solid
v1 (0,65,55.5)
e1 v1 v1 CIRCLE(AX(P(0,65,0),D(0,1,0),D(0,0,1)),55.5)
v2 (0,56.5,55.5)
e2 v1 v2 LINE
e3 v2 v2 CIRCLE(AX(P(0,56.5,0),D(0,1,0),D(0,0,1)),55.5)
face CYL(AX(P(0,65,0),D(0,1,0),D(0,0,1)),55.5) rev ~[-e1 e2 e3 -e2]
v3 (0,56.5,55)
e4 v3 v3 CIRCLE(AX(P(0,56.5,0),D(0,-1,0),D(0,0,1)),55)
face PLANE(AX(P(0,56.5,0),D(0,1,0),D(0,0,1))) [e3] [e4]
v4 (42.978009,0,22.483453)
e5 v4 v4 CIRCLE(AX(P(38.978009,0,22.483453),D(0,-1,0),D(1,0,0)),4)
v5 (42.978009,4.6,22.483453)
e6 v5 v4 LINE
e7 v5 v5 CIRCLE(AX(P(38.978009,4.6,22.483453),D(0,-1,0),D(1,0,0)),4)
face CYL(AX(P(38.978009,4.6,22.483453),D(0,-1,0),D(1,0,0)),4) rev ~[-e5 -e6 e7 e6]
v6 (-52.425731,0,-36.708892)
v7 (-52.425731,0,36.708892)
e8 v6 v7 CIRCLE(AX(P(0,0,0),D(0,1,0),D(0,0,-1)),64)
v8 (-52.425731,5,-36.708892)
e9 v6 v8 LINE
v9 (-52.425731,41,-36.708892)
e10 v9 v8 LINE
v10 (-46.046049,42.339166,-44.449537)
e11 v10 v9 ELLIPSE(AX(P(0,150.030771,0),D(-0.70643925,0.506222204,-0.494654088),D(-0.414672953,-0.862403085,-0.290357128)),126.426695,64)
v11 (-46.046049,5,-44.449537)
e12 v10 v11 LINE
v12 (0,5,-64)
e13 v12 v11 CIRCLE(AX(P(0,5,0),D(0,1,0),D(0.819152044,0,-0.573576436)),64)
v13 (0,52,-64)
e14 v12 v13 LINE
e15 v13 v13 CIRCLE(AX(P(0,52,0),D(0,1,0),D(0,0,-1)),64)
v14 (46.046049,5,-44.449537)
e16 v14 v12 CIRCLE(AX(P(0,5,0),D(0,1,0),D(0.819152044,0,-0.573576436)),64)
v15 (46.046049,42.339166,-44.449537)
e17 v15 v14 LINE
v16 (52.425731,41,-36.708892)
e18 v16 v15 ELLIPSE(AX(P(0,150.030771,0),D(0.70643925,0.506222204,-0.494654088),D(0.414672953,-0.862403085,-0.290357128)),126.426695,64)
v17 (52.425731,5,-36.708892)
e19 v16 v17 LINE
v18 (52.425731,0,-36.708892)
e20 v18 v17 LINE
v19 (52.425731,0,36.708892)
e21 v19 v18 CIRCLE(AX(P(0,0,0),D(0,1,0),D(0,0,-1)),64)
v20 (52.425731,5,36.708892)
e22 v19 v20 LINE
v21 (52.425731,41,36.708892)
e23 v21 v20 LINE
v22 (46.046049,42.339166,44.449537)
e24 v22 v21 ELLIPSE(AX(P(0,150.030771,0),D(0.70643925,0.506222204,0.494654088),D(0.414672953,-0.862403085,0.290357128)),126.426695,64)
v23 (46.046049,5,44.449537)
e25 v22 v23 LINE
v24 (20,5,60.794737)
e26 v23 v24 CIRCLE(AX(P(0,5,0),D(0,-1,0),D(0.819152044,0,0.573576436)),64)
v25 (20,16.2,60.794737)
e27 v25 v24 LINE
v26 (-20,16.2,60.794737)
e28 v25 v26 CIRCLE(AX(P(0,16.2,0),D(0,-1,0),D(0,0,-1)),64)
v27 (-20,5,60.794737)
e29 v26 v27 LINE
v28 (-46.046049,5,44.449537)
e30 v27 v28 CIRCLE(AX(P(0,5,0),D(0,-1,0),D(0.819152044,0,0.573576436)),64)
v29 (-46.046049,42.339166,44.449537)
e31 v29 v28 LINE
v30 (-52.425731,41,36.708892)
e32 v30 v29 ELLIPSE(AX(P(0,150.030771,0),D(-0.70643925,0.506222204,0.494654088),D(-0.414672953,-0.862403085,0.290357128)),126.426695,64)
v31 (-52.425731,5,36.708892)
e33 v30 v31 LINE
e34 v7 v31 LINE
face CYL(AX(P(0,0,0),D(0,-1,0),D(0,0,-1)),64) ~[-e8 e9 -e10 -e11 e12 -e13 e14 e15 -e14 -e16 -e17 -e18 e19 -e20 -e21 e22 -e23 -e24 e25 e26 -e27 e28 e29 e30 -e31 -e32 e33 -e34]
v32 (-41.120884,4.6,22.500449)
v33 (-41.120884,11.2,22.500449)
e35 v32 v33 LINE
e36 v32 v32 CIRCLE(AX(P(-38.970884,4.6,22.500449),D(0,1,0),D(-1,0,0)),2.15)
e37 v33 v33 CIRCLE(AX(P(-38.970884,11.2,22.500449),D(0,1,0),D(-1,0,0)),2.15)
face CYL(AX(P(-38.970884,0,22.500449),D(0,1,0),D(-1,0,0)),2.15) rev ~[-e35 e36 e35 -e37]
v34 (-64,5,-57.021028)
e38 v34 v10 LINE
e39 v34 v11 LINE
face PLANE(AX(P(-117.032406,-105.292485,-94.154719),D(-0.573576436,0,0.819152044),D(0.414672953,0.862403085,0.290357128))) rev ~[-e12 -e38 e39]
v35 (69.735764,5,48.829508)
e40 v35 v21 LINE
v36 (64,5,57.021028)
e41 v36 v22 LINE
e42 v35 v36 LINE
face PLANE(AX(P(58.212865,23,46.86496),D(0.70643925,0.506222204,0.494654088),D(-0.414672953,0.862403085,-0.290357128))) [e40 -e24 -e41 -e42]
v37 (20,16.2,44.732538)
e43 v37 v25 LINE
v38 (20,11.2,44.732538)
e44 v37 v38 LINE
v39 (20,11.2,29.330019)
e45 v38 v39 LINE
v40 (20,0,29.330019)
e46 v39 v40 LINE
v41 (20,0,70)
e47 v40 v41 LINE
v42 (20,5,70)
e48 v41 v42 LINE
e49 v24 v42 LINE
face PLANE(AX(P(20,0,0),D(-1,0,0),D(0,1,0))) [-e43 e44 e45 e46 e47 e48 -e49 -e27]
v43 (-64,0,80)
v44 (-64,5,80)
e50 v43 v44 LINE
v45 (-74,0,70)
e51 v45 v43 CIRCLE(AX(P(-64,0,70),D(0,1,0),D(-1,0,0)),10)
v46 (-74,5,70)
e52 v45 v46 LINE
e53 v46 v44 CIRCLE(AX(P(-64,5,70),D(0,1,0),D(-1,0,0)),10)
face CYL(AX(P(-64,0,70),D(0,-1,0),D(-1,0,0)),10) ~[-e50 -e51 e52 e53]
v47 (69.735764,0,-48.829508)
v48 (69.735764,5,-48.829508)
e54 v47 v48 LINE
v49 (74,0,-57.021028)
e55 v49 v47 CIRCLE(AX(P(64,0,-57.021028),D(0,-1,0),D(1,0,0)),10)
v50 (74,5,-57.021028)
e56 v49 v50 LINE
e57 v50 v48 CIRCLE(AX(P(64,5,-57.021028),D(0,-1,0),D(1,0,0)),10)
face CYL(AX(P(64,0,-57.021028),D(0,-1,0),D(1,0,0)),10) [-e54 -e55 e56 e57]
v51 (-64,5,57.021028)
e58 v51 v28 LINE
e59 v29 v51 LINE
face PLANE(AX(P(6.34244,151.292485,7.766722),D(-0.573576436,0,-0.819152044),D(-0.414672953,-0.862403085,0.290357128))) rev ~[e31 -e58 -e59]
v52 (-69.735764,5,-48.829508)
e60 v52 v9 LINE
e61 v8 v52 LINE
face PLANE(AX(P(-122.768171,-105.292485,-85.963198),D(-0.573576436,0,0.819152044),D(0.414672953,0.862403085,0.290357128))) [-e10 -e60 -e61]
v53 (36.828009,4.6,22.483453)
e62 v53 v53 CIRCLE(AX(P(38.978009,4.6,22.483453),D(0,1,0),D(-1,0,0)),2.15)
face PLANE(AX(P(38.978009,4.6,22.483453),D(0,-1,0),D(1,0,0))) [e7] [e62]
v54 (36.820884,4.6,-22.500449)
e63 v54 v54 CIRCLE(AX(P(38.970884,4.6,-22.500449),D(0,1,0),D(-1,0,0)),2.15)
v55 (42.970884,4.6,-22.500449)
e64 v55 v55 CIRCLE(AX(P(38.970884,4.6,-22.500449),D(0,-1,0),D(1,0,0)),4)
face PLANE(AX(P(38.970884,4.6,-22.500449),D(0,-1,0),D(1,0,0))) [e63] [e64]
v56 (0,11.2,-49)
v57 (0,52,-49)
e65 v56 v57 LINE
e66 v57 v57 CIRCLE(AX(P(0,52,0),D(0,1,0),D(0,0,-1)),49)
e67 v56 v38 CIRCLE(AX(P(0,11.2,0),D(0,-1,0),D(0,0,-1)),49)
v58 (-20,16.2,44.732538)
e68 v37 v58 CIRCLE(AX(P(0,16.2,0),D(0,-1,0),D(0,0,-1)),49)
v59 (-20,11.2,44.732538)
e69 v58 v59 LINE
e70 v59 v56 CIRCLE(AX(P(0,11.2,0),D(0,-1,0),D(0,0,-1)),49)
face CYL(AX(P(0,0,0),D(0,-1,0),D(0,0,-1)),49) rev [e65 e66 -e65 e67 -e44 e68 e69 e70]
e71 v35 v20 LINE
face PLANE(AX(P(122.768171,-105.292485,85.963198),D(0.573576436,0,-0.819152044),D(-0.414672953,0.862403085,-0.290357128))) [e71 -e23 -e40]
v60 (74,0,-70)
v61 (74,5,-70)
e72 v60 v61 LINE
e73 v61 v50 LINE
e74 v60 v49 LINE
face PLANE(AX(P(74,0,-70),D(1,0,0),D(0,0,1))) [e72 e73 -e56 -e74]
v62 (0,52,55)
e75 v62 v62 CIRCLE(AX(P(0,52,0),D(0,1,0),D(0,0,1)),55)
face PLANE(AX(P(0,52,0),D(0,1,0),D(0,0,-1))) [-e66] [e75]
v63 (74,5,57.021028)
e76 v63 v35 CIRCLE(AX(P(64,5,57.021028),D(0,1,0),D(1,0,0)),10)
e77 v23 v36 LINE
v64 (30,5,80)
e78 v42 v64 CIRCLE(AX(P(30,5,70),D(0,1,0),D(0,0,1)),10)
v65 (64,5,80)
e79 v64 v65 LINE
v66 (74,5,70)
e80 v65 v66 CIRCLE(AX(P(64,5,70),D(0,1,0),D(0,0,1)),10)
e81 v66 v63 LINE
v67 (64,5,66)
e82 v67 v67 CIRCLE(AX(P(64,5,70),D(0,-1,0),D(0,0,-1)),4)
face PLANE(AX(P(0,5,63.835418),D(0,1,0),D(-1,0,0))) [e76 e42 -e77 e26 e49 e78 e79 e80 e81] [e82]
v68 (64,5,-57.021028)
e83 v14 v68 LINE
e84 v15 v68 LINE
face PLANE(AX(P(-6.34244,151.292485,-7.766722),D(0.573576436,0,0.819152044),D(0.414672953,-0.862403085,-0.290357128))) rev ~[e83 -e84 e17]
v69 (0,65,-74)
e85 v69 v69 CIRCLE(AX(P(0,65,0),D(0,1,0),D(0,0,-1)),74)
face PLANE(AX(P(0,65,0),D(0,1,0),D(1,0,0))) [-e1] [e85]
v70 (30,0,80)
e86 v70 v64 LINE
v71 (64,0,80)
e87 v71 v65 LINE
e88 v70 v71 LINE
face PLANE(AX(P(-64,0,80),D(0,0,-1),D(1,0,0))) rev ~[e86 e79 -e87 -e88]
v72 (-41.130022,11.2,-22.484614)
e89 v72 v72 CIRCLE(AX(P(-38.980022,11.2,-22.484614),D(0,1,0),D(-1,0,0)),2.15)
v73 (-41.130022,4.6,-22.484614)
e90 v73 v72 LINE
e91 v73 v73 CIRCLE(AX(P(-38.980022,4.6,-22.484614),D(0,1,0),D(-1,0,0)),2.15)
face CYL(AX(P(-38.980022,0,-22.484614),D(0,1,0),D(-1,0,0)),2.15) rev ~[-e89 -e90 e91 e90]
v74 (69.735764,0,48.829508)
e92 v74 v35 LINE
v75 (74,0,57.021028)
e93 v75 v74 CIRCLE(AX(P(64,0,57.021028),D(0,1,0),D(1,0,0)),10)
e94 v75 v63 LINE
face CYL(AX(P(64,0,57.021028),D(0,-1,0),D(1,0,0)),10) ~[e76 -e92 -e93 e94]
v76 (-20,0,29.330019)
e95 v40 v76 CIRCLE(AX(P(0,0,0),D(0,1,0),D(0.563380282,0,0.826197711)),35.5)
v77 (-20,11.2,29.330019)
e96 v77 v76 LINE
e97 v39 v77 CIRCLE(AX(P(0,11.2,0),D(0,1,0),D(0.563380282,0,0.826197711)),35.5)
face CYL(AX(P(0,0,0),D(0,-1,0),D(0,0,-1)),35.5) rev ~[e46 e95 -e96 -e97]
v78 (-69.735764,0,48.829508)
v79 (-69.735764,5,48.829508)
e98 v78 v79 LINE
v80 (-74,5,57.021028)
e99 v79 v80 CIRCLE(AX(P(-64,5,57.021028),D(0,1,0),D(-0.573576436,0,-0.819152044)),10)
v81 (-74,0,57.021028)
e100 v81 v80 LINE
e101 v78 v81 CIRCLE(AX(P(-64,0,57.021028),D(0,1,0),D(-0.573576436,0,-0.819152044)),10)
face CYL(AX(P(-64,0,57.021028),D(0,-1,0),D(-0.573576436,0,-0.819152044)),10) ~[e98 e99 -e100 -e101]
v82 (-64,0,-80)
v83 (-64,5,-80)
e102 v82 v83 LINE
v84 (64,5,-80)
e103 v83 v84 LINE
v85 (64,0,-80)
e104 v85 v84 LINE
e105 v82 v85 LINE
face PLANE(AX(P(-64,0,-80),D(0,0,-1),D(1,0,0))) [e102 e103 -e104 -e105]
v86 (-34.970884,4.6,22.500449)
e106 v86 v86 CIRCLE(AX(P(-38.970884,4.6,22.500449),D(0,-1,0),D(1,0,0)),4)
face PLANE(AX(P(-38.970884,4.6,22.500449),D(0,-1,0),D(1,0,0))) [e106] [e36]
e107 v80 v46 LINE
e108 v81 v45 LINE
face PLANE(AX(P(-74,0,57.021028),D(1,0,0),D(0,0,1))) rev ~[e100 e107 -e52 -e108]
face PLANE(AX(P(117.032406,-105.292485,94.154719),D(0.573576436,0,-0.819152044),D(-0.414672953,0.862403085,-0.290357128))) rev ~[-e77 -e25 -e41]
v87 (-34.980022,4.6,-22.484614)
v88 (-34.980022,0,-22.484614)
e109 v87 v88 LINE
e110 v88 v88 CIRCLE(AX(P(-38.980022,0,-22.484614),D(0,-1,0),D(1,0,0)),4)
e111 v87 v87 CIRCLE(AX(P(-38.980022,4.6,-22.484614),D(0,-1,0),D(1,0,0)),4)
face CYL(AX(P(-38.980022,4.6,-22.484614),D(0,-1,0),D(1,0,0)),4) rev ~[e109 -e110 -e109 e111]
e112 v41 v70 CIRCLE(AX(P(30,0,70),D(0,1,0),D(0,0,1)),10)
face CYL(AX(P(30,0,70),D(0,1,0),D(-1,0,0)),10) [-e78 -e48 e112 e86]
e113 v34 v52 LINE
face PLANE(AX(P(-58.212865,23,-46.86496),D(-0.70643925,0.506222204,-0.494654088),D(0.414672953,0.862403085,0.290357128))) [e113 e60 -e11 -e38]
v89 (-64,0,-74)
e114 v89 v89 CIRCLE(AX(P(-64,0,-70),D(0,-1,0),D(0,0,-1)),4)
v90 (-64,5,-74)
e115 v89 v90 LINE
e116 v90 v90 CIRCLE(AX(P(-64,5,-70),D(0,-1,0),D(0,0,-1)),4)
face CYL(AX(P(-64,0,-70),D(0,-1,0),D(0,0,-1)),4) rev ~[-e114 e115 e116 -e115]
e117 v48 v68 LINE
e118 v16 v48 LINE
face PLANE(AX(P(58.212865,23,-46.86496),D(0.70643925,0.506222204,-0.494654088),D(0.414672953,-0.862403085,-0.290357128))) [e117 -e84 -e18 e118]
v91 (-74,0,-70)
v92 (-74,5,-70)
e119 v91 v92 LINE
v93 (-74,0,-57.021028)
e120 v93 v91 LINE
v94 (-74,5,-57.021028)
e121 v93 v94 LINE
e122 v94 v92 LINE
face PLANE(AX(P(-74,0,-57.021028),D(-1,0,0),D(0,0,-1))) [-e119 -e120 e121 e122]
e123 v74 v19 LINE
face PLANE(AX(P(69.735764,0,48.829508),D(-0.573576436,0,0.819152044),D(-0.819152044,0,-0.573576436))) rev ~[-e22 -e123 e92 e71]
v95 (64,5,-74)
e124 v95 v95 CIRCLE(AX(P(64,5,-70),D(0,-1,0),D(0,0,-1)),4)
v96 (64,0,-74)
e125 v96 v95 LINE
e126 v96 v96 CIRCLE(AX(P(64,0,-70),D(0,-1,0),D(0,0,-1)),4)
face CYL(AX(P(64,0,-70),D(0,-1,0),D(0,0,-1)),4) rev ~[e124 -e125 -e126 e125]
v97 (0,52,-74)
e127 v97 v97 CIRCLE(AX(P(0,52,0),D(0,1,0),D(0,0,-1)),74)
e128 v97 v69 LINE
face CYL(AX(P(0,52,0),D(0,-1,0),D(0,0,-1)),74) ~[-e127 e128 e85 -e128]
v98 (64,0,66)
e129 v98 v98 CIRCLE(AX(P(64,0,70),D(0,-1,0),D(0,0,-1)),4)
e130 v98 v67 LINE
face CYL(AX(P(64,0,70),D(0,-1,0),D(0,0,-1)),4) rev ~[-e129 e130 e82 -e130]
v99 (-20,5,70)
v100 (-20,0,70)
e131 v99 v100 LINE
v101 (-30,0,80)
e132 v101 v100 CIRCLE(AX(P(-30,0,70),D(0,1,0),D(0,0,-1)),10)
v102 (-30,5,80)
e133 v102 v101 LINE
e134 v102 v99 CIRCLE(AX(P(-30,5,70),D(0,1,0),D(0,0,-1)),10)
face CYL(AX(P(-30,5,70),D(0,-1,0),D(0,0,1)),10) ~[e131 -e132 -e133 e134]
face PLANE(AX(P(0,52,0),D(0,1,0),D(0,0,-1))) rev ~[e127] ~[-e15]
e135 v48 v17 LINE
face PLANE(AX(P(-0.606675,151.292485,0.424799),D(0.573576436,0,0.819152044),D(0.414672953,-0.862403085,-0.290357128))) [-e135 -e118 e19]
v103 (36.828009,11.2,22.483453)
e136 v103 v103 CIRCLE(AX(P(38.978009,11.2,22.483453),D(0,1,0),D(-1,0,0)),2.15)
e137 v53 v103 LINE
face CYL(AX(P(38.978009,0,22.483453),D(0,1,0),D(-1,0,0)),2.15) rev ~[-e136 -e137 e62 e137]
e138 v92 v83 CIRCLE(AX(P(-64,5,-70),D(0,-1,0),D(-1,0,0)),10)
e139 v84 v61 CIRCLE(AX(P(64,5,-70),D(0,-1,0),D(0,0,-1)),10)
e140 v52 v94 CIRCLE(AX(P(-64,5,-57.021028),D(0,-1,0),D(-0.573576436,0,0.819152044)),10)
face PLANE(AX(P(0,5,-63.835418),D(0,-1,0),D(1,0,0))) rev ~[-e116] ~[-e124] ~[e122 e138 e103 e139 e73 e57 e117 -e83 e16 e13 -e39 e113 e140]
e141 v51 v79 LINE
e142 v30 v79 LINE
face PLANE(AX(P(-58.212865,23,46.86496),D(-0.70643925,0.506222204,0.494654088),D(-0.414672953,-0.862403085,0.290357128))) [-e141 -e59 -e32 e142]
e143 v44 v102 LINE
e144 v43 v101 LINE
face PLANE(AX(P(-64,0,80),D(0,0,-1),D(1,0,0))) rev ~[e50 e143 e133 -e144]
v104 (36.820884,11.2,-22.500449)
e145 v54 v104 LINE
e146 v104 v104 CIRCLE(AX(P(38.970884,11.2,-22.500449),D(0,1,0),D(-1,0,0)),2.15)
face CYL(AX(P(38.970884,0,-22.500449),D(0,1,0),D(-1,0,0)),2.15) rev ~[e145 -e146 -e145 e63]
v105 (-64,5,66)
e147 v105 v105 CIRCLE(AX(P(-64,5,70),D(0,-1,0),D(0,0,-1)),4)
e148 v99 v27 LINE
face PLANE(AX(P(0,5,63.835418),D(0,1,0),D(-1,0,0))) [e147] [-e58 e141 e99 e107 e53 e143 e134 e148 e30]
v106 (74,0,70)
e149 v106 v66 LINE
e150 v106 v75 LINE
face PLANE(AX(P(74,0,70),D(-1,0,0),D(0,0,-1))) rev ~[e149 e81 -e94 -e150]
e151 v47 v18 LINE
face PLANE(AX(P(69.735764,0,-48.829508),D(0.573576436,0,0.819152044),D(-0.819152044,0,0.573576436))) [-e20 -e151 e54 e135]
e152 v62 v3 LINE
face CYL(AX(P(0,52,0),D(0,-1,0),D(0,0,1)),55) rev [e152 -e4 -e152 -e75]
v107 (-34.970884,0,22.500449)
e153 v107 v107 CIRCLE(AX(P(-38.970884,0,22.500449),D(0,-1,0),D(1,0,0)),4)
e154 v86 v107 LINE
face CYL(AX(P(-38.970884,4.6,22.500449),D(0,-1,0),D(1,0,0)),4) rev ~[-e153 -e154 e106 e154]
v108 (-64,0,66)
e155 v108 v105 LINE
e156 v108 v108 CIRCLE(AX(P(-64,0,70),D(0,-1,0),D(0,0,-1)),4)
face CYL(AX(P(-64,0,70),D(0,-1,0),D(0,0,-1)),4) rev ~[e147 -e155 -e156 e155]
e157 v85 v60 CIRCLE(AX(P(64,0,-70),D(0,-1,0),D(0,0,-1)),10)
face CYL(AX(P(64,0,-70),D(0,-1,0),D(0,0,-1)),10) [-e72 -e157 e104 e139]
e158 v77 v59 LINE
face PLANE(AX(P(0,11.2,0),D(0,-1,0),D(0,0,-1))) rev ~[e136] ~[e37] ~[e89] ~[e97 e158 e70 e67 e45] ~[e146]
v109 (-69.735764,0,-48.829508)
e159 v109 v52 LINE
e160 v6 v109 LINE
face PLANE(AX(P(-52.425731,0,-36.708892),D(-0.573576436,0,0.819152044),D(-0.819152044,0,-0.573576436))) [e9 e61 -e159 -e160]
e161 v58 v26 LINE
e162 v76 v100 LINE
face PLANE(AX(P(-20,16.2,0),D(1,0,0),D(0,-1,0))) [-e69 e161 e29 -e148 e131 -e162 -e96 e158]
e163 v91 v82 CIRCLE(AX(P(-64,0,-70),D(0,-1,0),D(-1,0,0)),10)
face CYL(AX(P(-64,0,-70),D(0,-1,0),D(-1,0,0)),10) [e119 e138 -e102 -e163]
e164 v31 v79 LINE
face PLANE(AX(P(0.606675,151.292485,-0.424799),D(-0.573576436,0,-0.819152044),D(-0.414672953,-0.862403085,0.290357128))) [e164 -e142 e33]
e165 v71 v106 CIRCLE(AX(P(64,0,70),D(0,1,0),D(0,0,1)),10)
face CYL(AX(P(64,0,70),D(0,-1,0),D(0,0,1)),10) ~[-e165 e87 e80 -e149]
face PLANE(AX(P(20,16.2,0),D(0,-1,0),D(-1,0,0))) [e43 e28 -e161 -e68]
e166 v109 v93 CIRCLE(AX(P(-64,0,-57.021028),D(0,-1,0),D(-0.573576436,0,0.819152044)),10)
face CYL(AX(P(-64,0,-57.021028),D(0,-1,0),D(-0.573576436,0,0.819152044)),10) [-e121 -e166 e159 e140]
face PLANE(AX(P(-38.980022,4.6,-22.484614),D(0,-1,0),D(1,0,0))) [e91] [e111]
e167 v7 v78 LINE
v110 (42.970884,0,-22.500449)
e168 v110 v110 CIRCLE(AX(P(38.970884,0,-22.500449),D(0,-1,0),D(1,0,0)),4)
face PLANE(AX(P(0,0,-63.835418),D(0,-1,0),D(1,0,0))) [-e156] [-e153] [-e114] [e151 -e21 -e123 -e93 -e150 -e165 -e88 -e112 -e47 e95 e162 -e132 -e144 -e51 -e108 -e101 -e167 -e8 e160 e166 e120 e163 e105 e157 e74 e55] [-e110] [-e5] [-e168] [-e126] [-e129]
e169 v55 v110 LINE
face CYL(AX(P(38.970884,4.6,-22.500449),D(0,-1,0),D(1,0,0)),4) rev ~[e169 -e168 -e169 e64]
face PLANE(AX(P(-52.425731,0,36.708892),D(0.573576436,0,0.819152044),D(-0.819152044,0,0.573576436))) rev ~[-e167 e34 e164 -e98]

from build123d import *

# Parameters (mm, degrees)
SKETCH_1_R                    = 64
SKETCH_1_R_2                  = 49
EXTRUDE_1_DEPTH               = 52
SKETCH_13_R                   = 49
SKETCH_13_R_2                 = 35.5
EXTRUDE_3_DEPTH               = 11.2
HOLE_WIZARD_M4_11_D           = 4.3
HOLE_WIZARD_M4_11_CBORE_D     = 8
HOLE_WIZARD_M4_11_CBORE_DEPTH = 4.6
SKETCH_18_R                   = 74
SKETCH_18_R_2                 = 56
EXTRUDE_4_DEPTH               = 13
SKETCH_25_R                   = 4
EXTRUDE_7_DEPTH               = 5
SKETCH_28_R                   = 4
EXTRUDE_8_DEPTH               = 5
CUT_EXTRUDE_2_DEPTH           = 81
FILLET_4_R                    = 10
FILLET_5_R                    = 10
RIB_1_REACH                   = 128.89
SKETCH_32_WALL_W              = 297.523252796
SKETCH_32_WALL_H              = 10
RIB_2_REACH                   = 128.89
SKETCH_33_WALL_W              = 297.523252796
SKETCH_33_WALL_H              = 10
RIB_7_REACH                   = 128.89
SKETCH_34_WALL_W              = 297.523252796
SKETCH_34_WALL_H              = 10
RIB_9_REACH                   = 128.89
SKETCH_35_WALL_W              = 297.523252796
SKETCH_35_WALL_H              = 10
SKETCH_36_R                   = 56
SKETCH_36_R_2                 = 55
EXTRUDE_9_DEPTH               = 13
SKETCH_37_R                   = 55.5
CUT_EXTRUDE_3_DEPTH           = 8.5


with BuildPart() as part:
    # 草图1 → 凸台-拉伸1 (new body)
    with BuildSketch(Plane(origin=(0, 0, 0), x_dir=(1, 0, 0), z_dir=(0, 1, 0))):
        with Locations(Location((0, 0, 0), (0, 0, 90))):
            Circle(SKETCH_1_R)
        with Locations(Location((0, 0, 0), (0, 0, 90))):
            Circle(SKETCH_1_R_2, mode=Mode.SUBTRACT)
    extrude(amount=EXTRUDE_1_DEPTH)

    # 草图13 → 凸台-拉伸3 (add)
    with BuildSketch(Plane.XZ):
        with Locations(Location((0, 0, 0), (0, 0, 270))):
            Circle(SKETCH_13_R)
        with Locations(Location((0, 0, 0), (0, 0, 270))):
            Circle(SKETCH_13_R_2, mode=Mode.SUBTRACT)
    extrude(amount=-EXTRUDE_3_DEPTH)

    # M4 六角圆柱头螺钉的柱形沉头孔11 (through all)
    with Locations(Plane.XZ):
        with Locations((-38.980021964, -22.484614467), (38.970883682, -22.50044944), (-38.970883682, 22.50044944), (38.978008551, 22.483453082)):
            CounterBoreHole(HOLE_WIZARD_M4_11_D / 2, HOLE_WIZARD_M4_11_CBORE_D / 2, HOLE_WIZARD_M4_11_CBORE_DEPTH)

    # 草图18 → 凸台-拉伸4 (add)
    with BuildSketch(Plane(origin=(0, 52, 0), x_dir=(1, 0, 0), z_dir=(0, 1, 0))):
        with Locations(Location((0, 0, 0), (0, 0, 90))):
            Circle(SKETCH_18_R)
        with Locations(Location((0, 0, 0), (0, 0, 90))):
            Circle(SKETCH_18_R_2, mode=Mode.SUBTRACT)
    extrude(amount=EXTRUDE_4_DEPTH)

    # 草图25 → 凸台-拉伸7 (add)
    with BuildSketch(Plane.XZ):
        with BuildLine():
            Line((-74, 57.021028333), (-74, 70))
            ThreePointArc((-74, 70), (-71.071067812, 77.071067812), (-64, 80))
            Line((-64, 80), (64, 80))
            ThreePointArc((64, 80), (71.071067812, 77.071067812), (74, 70))
            Line((74, 70), (74, 57.021028333))
            ThreePointArc((74, 57.021028333), (72.870108332, 52.403542201), (69.735764364, 48.82950789))
            Line((69.735764364, 48.82950789), (52.425730834, 36.708891926))
            ThreePointArc((52.425730834, 36.708891926), (0, 64), (-52.425730834, 36.708891926))
            Line((-52.425730834, 36.708891926), (-69.735764364, 48.82950789))
            ThreePointArc((-69.735764364, 48.82950789), (-72.870108332, 52.403542201), (-74, 57.021028333))
        make_face()
        with Locations(Location((-64, 70, 0), (0, 0, 270))):
            Circle(SKETCH_25_R, mode=Mode.SUBTRACT)
        with Locations(Location((64, 70, 0), (0, 0, 270))):
            Circle(SKETCH_25_R, mode=Mode.SUBTRACT)
    extrude(amount=-EXTRUDE_7_DEPTH)

    # 草图28 → 凸台-拉伸8 (add)
    with BuildSketch(Plane.XZ):
        with BuildLine():
            Line((-52.425730834, -36.708891926), (-69.735764364, -48.82950789))
            ThreePointArc((-69.735764364, -48.82950789), (-72.870108332, -52.403542201), (-74, -57.021028333))
            Line((-74, -57.021028333), (-74, -70))
            ThreePointArc((-74, -70), (-71.071067812, -77.071067812), (-64, -80))
            Line((-64, -80), (64, -80))
            ThreePointArc((64, -80), (71.071067812, -77.071067812), (74, -70))
            Line((74, -70), (74, -57.021028333))
            ThreePointArc((74, -57.021028333), (72.870108332, -52.403542201), (69.735764364, -48.82950789))
            Line((69.735764364, -48.82950789), (52.425730834, -36.708891926))
            ThreePointArc((52.425730834, -36.708891926), (0, -64), (-52.425730834, -36.708891926))
        make_face()
        with Locations(Location((-64, -70, 0), (0, 0, 270))):
            Circle(SKETCH_28_R, mode=Mode.SUBTRACT)
        with Locations(Location((64, -70, 0), (0, 0, 270))):
            Circle(SKETCH_28_R, mode=Mode.SUBTRACT)
    extrude(amount=-EXTRUDE_8_DEPTH)

    # 草图14 → 切除-拉伸2 (cut)
    with BuildSketch(Plane.XY):
        Polygon((0, 0), (20, 0), (20, 16.2), (-20, 16.2), (-20, 0), align=None)
    extrude(amount=CUT_EXTRUDE_2_DEPTH, mode=Mode.SUBTRACT)

    # 圆角4
    fillet_4_edges = [part.edges().sort_by_distance(p)[0] for p in [
        (-20, 2.5, 80),
    ]]
    fillet(fillet_4_edges, radius=FILLET_4_R)

    # 圆角5
    fillet_5_edges = [part.edges().sort_by_distance(p)[0] for p in [
        (20, 2.5, 80),
    ]]
    fillet(fillet_5_edges, radius=FILLET_5_R)

    # 草图32 wall → 筋1 (add, up to next)
    with BuildSketch(Plane(origin=(61.080747599, 23, 42.769199908), x_dir=(-0.414672953097, 0.86240308464, -0.290357127642), z_dir=(0.706439249784, 0.506222203783, 0.494654087986)), mode=Mode.PRIVATE) as rib_1_sk1:
        with Locations((0, 5)):
            Rectangle(SKETCH_32_WALL_W, SKETCH_32_WALL_H)
    rib_1_tool1 = extrude(rib_1_sk1.sketch, amount=-RIB_1_REACH, mode=Mode.PRIVATE) - part.part
    add(rib_1_tool1.solids().sort_by_distance((61.080747599, 23, 42.769199908))[0])

    # 草图33 wall → 筋2 (add, up to next)
    with BuildSketch(Plane(origin=(-61.080747599, 23, 42.769199908), x_dir=(-0.414672953097, -0.86240308464, 0.290357127642), z_dir=(-0.706439249784, 0.506222203783, 0.494654087986)), mode=Mode.PRIVATE) as rib_2_sk1:
        with Locations((0, 5)):
            Rectangle(SKETCH_33_WALL_W, SKETCH_33_WALL_H)
    rib_2_tool1 = extrude(rib_2_sk1.sketch, amount=-RIB_2_REACH, mode=Mode.PRIVATE) - part.part
    add(rib_2_tool1.solids().sort_by_distance((-61.080747599, 23, 42.769199908))[0])

    # 草图34 wall → 筋7 (add, up to next)
    with BuildSketch(Plane(origin=(-61.080747599, 23, -42.769199908), x_dir=(0.414672953097, 0.86240308464, 0.290357127642), z_dir=(-0.706439249784, 0.506222203783, -0.494654087986)), mode=Mode.PRIVATE) as rib_7_sk1:
        with Locations((0, 5)):
            Rectangle(SKETCH_34_WALL_W, SKETCH_34_WALL_H)
    rib_7_tool1 = extrude(rib_7_sk1.sketch, amount=-RIB_7_REACH, mode=Mode.PRIVATE) - part.part
    add(rib_7_tool1.solids().sort_by_distance((-61.080747599, 23, -42.769199908))[0])

    # 草图35 wall → 筋9 (add, up to next)
    with BuildSketch(Plane(origin=(61.080747599, 23, -42.769199908), x_dir=(0.414672953097, -0.86240308464, -0.290357127642), z_dir=(0.706439249784, 0.506222203783, -0.494654087986)), mode=Mode.PRIVATE) as rib_9_sk1:
        with Locations((0, 5)):
            Rectangle(SKETCH_35_WALL_W, SKETCH_35_WALL_H)
    rib_9_tool1 = extrude(rib_9_sk1.sketch, amount=-RIB_9_REACH, mode=Mode.PRIVATE) - part.part
    add(rib_9_tool1.solids().sort_by_distance((61.080747599, 23, -42.769199908))[0])

    # 草图36 → 凸台-拉伸9 (add)
    with BuildSketch(Plane(origin=(0, 52, 0), x_dir=(1, 0, 0), z_dir=(0, 1, 0))):
        Circle(SKETCH_36_R)
        with Locations(Location((0, 0, 0), (0, 0, 270))):
            Circle(SKETCH_36_R_2, mode=Mode.SUBTRACT)
    extrude(amount=EXTRUDE_9_DEPTH)

    # 草图37 → 切除-拉伸3 (cut)
    with BuildSketch(Plane(origin=(0, 65, 0), x_dir=(1, 0, 0), z_dir=(0, 1, 0))):
        with Locations(Location((0, 0, 0), (0, 0, 270))):
            Circle(SKETCH_37_R)
    extrude(amount=-CUT_EXTRUDE_3_DEPTH, mode=Mode.SUBTRACT)


solid = part.part
